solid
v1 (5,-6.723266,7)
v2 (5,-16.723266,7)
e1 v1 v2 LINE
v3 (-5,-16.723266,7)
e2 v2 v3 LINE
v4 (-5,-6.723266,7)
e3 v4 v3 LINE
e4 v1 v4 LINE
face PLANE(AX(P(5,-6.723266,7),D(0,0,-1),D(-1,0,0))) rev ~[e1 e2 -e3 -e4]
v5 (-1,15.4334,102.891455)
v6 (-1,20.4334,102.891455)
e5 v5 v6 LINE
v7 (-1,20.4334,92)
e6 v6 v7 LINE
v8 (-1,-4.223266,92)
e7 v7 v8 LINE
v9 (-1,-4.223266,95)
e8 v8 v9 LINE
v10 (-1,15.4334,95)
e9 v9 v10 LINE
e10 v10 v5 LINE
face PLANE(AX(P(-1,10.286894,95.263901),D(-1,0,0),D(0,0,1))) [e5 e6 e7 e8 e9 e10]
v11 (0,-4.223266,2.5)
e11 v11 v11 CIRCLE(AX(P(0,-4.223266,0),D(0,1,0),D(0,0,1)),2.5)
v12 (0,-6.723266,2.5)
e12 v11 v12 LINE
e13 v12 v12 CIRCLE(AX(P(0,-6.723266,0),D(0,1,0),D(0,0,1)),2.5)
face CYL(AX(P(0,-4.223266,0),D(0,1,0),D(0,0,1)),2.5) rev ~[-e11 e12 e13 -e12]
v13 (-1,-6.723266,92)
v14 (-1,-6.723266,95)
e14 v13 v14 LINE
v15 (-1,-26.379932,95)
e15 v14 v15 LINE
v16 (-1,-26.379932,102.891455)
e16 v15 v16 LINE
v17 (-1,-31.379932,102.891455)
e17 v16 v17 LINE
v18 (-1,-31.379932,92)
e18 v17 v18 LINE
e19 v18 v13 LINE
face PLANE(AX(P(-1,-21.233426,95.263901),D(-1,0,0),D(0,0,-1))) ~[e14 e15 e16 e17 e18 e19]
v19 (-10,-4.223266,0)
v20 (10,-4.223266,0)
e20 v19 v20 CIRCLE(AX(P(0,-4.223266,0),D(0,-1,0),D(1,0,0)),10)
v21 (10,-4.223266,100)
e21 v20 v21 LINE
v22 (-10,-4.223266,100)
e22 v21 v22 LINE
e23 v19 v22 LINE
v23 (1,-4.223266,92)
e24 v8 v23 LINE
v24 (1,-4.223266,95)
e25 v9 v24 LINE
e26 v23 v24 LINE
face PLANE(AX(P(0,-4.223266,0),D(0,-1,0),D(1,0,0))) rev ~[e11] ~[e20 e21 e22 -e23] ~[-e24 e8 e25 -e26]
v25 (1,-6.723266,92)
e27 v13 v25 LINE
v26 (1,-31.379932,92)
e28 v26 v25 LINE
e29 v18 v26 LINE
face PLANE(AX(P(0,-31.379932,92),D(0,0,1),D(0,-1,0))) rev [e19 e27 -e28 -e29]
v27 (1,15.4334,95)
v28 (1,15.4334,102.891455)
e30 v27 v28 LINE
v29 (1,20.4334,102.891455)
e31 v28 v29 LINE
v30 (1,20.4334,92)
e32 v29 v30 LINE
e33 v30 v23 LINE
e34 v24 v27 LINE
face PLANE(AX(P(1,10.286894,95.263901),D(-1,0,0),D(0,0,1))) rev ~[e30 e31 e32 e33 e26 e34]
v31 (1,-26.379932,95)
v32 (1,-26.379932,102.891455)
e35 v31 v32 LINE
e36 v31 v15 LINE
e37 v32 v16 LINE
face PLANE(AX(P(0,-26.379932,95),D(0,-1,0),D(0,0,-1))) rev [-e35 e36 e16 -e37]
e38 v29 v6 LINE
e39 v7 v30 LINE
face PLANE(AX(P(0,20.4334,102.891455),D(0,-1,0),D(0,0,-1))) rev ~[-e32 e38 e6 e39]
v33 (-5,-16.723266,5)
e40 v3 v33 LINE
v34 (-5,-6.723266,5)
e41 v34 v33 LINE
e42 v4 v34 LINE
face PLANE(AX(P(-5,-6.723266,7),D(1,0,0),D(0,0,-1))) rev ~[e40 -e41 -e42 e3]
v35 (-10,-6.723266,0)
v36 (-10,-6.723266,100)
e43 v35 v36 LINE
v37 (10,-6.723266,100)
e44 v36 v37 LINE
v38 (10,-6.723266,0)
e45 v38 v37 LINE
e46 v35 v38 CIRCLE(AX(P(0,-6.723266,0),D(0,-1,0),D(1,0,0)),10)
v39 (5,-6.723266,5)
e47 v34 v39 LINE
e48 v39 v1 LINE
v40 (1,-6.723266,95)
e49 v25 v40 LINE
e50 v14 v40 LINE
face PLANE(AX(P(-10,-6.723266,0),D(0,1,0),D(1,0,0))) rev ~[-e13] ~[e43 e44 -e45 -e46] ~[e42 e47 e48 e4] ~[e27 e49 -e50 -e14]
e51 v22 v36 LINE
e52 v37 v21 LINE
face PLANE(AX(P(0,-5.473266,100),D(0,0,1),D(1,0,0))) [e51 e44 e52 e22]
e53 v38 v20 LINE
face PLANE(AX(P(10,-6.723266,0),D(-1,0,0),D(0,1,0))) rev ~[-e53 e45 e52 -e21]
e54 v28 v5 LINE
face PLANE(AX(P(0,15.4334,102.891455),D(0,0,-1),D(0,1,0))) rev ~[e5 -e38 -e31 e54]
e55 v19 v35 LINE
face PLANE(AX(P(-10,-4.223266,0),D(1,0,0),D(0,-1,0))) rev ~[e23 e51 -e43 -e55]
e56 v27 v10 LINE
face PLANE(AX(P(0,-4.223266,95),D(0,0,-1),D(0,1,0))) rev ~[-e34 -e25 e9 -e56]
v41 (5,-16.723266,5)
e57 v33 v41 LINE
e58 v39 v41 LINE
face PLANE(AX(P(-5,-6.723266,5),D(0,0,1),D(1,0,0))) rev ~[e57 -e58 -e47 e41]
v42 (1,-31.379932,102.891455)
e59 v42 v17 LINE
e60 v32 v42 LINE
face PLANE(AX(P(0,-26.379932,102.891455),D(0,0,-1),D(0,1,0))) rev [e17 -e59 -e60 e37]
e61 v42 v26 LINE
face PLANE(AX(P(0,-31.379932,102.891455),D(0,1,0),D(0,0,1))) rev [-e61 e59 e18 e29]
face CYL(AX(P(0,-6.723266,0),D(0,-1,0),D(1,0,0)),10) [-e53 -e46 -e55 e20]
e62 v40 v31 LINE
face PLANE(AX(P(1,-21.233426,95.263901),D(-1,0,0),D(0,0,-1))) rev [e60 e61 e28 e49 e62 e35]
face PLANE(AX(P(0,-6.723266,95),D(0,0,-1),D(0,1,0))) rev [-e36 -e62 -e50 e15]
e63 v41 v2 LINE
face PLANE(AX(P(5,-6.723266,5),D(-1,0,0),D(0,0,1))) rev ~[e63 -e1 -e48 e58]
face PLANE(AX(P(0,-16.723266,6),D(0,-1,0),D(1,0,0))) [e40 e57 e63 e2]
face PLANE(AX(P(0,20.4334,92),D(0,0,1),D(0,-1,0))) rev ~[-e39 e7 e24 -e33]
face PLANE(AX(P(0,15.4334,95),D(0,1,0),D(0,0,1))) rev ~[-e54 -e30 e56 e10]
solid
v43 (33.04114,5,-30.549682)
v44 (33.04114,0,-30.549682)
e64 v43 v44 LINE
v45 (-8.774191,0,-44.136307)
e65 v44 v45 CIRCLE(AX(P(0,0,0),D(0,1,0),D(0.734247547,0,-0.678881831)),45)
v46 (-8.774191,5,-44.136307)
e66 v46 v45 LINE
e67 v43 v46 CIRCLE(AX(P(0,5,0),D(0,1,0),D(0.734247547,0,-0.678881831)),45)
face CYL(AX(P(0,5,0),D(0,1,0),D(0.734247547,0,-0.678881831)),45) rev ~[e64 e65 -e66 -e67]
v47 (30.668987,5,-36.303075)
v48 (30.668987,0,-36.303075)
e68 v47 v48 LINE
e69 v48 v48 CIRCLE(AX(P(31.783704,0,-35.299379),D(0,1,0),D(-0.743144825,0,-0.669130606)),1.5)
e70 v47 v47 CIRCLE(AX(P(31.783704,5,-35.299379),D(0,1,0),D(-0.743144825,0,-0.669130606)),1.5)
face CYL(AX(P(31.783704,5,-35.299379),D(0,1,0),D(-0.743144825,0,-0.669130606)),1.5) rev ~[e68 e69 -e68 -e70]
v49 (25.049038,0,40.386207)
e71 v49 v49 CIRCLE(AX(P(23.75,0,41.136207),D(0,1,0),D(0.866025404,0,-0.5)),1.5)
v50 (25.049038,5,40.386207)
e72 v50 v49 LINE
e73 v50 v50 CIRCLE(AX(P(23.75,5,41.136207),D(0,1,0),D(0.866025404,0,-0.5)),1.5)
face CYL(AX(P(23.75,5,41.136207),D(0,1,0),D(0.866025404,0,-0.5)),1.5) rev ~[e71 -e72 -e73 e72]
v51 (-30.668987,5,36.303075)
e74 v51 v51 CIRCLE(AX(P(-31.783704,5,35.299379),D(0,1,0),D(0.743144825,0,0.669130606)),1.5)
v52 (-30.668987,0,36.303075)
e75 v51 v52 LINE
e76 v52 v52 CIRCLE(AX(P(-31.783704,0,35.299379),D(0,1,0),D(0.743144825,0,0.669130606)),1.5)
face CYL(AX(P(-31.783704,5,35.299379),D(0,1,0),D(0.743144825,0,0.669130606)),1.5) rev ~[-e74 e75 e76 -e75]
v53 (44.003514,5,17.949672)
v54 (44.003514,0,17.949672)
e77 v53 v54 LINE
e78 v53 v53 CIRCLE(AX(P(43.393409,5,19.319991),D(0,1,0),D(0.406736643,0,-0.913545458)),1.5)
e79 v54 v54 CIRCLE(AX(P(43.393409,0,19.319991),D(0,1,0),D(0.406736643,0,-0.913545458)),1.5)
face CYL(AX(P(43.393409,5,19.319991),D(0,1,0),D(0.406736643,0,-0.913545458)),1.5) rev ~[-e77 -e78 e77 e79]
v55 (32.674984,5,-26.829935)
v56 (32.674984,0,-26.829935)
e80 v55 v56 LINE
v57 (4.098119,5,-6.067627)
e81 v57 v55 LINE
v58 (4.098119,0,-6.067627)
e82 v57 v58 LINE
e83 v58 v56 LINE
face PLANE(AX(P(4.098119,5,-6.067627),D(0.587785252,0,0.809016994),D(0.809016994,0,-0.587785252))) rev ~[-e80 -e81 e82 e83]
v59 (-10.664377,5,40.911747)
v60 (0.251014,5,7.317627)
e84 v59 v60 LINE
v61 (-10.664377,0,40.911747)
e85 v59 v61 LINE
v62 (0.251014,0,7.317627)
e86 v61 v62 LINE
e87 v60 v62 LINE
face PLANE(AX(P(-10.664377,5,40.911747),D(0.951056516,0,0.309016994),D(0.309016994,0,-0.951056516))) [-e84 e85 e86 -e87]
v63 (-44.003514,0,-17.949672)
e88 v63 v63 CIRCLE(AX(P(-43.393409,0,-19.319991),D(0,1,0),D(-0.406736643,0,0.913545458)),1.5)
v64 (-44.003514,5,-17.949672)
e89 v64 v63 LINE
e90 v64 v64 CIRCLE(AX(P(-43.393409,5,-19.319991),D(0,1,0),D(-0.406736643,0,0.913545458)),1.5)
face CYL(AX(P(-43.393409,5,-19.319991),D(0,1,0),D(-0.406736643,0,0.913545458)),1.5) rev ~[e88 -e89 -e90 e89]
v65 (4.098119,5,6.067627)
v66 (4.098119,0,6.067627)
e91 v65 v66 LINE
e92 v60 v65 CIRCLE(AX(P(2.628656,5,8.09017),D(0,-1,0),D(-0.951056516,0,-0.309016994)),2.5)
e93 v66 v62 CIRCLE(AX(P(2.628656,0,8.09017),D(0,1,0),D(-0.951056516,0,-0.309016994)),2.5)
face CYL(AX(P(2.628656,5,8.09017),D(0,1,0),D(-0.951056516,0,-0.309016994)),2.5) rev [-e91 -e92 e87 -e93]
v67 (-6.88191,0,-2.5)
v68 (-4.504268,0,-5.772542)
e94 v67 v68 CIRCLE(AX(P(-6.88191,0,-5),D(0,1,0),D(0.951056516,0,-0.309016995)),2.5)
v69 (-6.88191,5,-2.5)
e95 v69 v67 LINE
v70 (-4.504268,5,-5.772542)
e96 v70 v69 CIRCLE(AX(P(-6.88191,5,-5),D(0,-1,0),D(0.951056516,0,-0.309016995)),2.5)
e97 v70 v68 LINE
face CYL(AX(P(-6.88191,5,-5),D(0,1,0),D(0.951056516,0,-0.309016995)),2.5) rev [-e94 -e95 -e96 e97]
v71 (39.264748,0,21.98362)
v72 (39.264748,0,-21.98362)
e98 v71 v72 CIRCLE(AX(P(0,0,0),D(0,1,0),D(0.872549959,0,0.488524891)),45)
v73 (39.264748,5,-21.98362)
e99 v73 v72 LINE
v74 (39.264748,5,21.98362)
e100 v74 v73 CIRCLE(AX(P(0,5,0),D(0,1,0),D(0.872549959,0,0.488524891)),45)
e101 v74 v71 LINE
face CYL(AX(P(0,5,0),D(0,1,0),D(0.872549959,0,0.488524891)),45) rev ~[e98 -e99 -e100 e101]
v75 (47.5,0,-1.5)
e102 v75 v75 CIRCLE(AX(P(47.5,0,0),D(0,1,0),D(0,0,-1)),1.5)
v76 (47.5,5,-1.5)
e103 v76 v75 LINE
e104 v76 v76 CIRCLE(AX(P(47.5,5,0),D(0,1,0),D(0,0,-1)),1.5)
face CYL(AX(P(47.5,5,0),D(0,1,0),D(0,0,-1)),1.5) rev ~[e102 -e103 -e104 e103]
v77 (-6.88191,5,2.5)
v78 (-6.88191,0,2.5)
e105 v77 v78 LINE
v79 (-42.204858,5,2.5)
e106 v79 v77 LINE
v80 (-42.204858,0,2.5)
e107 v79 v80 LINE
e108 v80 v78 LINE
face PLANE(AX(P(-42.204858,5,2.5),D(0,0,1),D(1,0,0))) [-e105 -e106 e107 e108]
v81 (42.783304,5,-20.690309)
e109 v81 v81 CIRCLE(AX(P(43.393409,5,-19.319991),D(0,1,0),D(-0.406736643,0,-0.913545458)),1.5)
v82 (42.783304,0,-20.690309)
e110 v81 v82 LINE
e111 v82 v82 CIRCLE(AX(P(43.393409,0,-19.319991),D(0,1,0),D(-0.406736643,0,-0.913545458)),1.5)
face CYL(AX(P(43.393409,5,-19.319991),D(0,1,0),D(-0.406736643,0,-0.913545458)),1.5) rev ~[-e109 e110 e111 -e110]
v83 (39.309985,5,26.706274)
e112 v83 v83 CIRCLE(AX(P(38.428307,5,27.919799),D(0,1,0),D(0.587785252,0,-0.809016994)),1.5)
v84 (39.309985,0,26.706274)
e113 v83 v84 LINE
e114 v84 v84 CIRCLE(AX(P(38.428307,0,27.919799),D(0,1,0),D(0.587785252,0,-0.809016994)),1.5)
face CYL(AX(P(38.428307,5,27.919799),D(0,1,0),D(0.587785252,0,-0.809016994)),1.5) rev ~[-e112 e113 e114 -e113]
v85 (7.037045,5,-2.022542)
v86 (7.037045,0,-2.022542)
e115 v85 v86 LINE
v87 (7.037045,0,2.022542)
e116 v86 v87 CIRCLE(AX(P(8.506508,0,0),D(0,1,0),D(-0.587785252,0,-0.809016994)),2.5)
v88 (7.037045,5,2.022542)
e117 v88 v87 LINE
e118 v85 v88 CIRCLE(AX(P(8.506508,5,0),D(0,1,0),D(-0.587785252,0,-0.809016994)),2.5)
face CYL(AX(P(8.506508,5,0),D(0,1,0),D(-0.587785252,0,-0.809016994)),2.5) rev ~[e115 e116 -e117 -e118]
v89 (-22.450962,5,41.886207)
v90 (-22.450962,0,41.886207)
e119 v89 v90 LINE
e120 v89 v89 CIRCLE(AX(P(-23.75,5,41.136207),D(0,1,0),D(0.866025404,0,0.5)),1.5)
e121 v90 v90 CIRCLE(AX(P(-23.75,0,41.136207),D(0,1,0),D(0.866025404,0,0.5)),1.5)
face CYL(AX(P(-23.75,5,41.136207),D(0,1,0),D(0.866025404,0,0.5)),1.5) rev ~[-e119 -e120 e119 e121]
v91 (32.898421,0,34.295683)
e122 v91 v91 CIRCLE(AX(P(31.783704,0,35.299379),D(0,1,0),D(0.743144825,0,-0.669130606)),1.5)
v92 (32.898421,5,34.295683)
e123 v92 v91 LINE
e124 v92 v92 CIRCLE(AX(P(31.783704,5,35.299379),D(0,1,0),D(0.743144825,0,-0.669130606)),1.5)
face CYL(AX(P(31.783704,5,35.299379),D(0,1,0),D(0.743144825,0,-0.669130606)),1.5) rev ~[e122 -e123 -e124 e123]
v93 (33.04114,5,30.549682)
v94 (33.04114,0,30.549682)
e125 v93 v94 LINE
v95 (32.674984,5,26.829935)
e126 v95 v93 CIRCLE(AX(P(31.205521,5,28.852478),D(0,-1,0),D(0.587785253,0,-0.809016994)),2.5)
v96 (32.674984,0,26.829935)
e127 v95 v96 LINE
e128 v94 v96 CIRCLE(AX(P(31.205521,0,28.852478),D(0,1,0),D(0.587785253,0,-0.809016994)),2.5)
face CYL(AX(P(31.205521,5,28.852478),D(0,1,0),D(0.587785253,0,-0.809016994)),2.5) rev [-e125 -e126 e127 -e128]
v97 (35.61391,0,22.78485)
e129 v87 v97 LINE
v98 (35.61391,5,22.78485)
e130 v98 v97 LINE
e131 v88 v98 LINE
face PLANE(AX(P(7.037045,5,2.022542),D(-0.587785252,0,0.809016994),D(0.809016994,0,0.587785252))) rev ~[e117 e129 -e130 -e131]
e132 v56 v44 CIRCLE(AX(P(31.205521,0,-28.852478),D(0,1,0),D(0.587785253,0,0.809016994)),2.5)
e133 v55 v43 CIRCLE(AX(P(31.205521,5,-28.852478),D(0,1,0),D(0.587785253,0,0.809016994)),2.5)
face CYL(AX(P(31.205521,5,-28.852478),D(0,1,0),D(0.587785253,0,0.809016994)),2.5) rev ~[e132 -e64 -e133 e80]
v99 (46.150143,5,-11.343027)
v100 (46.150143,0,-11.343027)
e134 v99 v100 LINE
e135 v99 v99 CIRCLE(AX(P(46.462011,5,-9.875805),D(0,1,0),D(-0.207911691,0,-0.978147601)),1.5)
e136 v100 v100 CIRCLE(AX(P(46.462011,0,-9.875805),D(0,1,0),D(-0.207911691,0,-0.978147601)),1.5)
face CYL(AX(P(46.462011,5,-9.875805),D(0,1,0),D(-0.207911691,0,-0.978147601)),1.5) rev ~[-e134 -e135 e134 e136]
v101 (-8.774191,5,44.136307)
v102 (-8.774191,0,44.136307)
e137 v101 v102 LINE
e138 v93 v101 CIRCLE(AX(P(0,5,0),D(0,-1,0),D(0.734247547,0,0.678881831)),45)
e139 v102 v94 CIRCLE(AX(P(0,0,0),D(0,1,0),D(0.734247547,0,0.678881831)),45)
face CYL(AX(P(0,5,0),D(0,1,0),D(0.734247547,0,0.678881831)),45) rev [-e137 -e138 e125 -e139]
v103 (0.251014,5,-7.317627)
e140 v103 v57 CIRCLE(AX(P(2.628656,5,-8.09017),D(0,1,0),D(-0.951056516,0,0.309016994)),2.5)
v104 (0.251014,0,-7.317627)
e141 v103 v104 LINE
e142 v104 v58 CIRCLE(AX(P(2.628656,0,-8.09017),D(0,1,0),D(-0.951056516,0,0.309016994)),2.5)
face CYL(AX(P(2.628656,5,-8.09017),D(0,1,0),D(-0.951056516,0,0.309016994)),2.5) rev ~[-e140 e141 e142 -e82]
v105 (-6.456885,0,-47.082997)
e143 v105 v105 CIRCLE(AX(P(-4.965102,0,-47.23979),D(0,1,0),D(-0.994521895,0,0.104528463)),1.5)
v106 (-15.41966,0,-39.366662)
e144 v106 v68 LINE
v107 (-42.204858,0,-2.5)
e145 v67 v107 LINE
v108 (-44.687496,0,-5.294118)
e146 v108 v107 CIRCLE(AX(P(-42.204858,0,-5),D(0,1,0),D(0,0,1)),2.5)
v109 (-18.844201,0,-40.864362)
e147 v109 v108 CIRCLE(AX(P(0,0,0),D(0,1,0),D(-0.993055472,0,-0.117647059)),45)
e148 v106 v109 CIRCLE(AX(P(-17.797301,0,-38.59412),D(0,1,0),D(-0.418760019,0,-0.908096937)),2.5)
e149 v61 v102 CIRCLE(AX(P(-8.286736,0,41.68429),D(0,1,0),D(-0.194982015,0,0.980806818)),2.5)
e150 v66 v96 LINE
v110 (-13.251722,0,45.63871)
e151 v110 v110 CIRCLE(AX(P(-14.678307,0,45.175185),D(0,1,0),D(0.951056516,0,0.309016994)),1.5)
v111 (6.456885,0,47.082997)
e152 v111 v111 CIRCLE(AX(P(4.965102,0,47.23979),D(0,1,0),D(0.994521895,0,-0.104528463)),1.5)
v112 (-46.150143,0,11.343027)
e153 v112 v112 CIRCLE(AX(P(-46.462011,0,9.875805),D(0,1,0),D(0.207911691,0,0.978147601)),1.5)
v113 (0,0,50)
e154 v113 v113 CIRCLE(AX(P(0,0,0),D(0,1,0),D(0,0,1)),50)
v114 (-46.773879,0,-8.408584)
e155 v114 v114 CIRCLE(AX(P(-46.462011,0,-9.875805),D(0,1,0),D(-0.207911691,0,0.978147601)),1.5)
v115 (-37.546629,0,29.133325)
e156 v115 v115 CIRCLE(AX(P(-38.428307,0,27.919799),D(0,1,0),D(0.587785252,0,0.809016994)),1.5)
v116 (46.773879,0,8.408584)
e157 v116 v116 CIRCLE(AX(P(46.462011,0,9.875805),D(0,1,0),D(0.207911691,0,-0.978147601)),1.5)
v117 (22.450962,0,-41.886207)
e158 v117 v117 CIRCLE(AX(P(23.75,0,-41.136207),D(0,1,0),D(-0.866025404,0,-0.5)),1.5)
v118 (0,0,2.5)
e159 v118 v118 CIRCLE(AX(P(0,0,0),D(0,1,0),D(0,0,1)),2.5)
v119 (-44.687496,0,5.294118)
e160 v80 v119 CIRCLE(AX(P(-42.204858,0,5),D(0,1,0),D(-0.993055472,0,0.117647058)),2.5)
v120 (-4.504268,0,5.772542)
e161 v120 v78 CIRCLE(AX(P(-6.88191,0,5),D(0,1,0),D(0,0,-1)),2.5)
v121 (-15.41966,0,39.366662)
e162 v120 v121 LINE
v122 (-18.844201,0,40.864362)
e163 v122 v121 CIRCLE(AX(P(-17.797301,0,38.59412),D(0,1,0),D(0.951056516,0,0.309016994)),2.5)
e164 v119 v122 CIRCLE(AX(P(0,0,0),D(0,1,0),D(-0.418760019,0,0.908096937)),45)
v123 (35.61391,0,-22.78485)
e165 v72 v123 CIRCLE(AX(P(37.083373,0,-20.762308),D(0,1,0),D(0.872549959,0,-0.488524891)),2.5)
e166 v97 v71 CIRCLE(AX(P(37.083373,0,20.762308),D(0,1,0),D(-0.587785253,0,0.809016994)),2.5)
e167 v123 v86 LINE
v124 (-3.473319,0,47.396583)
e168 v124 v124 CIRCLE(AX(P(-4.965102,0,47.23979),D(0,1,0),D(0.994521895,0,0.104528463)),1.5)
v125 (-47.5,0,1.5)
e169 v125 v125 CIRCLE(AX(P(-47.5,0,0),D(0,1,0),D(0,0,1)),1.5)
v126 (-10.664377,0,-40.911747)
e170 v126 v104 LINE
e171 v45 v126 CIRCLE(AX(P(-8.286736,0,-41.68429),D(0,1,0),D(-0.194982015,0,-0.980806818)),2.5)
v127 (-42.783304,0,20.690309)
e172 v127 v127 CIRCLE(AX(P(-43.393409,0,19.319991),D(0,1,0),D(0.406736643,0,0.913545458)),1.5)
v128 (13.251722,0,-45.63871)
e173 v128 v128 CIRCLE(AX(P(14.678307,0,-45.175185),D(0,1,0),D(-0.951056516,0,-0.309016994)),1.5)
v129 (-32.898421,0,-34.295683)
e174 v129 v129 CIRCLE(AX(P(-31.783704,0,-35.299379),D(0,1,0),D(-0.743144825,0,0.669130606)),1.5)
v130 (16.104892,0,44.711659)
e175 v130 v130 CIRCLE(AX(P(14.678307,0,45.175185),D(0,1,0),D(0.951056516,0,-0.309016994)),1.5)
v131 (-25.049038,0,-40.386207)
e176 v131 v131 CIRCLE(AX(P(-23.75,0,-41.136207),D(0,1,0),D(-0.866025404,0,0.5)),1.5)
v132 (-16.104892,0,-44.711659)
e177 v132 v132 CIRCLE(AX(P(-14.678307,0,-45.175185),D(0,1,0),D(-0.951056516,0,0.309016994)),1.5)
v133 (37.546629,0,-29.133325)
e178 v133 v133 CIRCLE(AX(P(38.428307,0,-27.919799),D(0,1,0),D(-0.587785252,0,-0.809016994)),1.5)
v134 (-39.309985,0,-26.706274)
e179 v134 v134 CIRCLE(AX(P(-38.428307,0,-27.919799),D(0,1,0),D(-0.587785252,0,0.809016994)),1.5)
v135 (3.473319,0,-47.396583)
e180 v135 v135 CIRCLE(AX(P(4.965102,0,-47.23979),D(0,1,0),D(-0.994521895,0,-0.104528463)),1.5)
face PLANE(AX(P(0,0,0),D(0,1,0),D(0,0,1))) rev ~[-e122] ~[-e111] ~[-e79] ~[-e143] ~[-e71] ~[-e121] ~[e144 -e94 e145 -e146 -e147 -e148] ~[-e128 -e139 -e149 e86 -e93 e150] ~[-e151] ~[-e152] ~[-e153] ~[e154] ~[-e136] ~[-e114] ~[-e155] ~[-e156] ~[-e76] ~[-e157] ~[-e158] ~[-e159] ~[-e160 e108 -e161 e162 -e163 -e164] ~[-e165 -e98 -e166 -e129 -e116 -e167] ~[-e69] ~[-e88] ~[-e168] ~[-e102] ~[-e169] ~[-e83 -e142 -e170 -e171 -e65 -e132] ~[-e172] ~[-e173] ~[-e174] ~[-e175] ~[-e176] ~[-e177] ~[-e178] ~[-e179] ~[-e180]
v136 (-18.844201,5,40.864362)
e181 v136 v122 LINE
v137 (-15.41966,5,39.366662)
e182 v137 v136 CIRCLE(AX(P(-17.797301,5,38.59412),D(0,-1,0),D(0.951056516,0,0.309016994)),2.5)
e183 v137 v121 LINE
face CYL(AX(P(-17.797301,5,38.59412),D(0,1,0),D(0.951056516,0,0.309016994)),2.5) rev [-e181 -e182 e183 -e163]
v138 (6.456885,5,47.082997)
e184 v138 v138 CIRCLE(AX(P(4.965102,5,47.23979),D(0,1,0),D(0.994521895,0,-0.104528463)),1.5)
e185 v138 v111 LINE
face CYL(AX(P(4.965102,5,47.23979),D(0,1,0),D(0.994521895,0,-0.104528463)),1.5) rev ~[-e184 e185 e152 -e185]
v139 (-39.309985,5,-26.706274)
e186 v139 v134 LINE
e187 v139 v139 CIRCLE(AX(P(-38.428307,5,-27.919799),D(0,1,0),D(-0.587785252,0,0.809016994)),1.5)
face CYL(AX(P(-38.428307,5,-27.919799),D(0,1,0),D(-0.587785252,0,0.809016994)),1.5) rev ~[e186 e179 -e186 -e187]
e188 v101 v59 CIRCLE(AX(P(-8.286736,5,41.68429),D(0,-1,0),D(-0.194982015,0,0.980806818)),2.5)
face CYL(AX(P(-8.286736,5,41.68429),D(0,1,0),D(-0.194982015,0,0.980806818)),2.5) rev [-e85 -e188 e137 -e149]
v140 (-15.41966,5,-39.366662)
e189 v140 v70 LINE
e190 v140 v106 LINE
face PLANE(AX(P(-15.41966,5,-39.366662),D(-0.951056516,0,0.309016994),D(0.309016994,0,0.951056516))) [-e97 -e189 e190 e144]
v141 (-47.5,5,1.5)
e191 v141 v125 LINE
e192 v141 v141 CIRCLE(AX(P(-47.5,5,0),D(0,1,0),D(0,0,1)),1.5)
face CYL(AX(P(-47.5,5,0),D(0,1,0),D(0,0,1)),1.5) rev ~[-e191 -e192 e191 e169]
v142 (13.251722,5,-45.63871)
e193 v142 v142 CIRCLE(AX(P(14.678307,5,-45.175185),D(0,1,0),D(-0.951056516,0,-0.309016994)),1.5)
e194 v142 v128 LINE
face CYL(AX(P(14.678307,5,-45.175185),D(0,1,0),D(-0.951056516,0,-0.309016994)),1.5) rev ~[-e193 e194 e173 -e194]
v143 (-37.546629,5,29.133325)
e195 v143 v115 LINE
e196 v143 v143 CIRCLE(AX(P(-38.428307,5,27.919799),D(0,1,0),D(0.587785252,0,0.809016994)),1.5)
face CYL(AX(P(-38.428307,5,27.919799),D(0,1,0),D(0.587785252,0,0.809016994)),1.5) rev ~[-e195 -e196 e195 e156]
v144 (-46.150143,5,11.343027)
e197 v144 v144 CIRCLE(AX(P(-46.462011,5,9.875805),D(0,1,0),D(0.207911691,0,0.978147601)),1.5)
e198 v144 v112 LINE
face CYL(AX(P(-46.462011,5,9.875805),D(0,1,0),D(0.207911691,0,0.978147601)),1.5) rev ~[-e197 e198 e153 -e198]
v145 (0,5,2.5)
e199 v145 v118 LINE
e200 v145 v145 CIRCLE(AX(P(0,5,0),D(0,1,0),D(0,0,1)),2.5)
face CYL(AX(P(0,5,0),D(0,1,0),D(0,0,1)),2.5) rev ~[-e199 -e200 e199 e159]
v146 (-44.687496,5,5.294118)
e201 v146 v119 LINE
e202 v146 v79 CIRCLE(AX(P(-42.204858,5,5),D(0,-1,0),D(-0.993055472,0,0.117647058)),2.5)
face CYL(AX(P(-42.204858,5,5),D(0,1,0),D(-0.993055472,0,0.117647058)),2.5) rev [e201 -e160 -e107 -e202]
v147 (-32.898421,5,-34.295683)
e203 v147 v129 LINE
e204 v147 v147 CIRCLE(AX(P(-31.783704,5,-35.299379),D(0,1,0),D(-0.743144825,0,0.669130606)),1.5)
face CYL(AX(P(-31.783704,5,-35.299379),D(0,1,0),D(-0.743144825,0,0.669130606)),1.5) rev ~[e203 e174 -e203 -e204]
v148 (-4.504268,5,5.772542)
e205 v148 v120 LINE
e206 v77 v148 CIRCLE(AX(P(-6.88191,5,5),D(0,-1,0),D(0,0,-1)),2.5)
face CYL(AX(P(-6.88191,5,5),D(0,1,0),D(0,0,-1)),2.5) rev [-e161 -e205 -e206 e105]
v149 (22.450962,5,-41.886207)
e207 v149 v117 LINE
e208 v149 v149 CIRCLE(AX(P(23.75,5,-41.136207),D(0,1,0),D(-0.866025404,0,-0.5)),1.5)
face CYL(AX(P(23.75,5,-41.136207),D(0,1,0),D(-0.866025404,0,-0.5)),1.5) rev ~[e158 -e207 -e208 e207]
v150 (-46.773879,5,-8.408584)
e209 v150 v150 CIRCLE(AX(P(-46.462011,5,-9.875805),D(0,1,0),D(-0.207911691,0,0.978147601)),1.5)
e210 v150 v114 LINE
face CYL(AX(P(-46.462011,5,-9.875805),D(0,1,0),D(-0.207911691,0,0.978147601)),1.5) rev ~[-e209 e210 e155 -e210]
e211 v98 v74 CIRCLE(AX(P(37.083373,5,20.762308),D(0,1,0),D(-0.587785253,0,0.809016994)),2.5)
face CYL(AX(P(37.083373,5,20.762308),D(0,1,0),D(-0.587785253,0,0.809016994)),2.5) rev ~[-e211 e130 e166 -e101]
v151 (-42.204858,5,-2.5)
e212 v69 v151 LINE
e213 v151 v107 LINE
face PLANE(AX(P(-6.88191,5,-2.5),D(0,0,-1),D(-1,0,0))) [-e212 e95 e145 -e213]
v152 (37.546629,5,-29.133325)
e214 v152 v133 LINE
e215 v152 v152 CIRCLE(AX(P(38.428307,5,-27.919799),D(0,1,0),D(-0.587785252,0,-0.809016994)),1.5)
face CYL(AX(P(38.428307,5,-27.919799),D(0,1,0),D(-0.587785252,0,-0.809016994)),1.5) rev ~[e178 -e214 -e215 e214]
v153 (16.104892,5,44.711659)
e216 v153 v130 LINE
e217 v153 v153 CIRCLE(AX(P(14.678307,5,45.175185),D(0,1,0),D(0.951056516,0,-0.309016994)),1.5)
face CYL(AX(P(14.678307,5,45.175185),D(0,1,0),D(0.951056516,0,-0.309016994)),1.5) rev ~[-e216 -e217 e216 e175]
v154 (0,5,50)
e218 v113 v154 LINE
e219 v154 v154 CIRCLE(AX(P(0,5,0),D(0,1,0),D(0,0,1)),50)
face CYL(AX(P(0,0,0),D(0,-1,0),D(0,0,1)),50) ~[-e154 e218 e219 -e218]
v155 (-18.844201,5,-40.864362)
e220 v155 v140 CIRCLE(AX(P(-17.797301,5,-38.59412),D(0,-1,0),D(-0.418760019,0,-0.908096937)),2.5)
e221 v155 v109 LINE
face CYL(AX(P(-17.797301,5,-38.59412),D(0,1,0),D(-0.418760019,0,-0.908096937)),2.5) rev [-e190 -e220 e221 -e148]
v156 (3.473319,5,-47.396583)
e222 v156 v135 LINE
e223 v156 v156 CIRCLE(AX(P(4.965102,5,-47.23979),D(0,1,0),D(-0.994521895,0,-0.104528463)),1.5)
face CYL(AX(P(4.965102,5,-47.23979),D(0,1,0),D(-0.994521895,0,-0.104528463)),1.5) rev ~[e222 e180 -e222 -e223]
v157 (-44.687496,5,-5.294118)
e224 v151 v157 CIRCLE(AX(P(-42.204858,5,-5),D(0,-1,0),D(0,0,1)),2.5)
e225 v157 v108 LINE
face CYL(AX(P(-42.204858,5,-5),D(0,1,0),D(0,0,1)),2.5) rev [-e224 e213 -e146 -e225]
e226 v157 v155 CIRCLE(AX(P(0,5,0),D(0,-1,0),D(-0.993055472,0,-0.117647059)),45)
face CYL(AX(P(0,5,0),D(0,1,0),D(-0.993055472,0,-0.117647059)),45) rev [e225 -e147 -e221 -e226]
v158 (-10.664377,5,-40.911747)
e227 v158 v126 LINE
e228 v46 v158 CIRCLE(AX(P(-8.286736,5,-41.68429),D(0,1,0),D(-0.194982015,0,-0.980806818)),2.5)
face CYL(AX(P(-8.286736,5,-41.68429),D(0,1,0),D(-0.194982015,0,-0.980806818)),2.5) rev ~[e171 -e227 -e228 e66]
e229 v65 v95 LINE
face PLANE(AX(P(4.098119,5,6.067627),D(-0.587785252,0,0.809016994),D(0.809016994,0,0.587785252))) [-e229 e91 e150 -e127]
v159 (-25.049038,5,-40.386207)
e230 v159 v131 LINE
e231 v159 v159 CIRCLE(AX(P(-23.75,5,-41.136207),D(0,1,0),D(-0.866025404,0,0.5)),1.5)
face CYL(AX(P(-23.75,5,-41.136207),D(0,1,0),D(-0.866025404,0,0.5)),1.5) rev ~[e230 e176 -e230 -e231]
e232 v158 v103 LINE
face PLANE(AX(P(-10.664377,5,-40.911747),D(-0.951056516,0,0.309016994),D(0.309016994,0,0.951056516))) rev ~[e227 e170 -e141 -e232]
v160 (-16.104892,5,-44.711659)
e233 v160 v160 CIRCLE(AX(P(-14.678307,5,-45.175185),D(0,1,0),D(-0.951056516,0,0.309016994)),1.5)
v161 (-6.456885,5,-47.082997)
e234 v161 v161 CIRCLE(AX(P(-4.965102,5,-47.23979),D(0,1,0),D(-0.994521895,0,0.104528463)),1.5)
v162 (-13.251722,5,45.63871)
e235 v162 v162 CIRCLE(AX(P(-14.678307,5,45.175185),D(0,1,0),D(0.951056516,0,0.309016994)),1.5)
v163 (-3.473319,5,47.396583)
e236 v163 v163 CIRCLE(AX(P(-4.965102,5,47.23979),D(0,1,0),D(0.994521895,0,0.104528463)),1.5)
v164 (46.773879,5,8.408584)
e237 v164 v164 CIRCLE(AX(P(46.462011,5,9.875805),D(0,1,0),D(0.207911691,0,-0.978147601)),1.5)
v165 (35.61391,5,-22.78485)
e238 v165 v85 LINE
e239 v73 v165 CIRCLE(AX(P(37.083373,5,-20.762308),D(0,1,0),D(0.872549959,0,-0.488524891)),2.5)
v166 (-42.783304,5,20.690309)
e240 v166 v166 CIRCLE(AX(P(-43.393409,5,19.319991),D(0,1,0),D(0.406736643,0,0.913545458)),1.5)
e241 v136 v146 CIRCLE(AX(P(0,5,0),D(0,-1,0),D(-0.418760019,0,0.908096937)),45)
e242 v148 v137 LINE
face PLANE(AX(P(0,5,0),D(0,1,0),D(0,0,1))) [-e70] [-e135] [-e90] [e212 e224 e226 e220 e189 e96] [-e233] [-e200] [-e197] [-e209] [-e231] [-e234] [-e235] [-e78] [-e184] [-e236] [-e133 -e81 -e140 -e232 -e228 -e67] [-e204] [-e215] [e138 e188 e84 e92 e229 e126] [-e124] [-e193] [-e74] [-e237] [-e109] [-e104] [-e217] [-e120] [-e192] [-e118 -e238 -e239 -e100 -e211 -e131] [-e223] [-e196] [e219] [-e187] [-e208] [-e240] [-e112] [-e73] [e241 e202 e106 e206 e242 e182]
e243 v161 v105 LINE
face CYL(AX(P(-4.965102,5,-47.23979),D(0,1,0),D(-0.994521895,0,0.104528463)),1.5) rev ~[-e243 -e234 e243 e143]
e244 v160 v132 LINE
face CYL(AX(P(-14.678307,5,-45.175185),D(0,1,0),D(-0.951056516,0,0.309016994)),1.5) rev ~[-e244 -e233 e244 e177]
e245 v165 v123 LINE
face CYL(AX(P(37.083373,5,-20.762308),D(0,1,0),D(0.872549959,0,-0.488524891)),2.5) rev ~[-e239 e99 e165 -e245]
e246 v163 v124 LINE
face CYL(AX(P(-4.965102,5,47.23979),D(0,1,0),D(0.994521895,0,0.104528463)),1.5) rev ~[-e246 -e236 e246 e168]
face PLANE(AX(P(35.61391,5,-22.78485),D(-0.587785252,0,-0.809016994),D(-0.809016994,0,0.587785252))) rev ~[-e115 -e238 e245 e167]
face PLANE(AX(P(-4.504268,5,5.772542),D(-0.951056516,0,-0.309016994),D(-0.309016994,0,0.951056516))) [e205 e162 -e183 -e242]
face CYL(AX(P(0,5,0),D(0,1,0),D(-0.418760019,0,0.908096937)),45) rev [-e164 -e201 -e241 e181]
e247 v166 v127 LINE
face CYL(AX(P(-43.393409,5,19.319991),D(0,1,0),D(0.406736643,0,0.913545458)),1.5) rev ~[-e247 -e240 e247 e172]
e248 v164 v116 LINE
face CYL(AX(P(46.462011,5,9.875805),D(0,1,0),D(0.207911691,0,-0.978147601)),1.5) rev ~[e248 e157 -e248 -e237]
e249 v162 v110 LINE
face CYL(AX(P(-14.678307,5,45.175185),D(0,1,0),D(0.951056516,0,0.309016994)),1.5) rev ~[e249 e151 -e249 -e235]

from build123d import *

# Parameters (mm, degrees)
SKETCH1_R           = 50
BOSS_EXTRUDE1_DEPTH = 5
SKETCH4_R           = 2.5
CUT_EXTRUDE1_DEPTH  = 71.887234394
SKETCH7_R           = 1.5
CUT_EXTRUDE2_DEPTH  = 10
CIRPATTERN1_COUNT   = 30
BOSS_EXTRUDE3_DEPTH = 100
SKETCH11_R          = 10
BOSS_EXTRUDE5_DEPTH = 2.5
SKETCH13_R          = 2.5
CUT_EXTRUDE3_DEPTH  = 2.5
BOSS_EXTRUDE6_DEPTH = 10
BOSS_EXTRUDE9_DEPTH = 1


with BuildPart() as part:
    # Sketch1 → Boss-Extrude1 (new body)
    with BuildSketch(Plane(origin=(0, 0, 0), x_dir=(1, 0, 0), z_dir=(0, 1, 0))):
        with Locations(Location((0, 0, 0), (0, 0, 270))):
            Circle(SKETCH1_R)
    extrude(amount=BOSS_EXTRUDE1_DEPTH)

    # Sketch4 → Cut-Extrude1 (cut, through all)
    with BuildSketch(Plane(origin=(0, 5, 0), x_dir=(1, 0, 0), z_dir=(0, 1, 0))):
        with Locations(Location((0, 0, 0), (0, 0, 270))):
            Circle(SKETCH4_R)
        with BuildLine():
            Line((4.098118691, 6.067627458), (32.674983865, 26.829935323))
            ThreePointArc((32.674983865, 26.829935323), (33.693496076, 28.607572328), (33.041139601, 30.549682386))
            ThreePointArc((33.041139601, 30.549682386), (13.905764747, 42.797543233), (-8.774190682, 44.136306799))
            ThreePointArc((-8.774190682, 44.136306799), (-10.443501807, 42.948552273), (-10.664376934, 40.911747269))
            Line((-10.664376934, 40.911747269), (0.25101427, 7.317627458))
            ThreePointArc((0.25101427, 7.317627458), (1.856113075, 5.712528653), (4.098118691, 6.067627458))
        make_face()
        with BuildLine():
            Line((4.098118691, -6.067627458), (32.674983865, -26.829935323))
            ThreePointArc((32.674983865, -26.829935323), (33.693496076, -28.607572328), (33.041139601, -30.549682386))
            ThreePointArc((33.041139601, -30.549682386), (13.905764747, -42.797543233), (-8.774190682, -44.136306799))
            ThreePointArc((-8.774190682, -44.136306799), (-10.443501807, -42.948552273), (-10.664376934, -40.911747269))
            Line((-10.664376934, -40.911747269), (0.25101427, -7.317627458))
            ThreePointArc((0.25101427, -7.317627458), (1.856113075, -5.712528653), (4.098118691, -6.067627458))
        make_face()
        with BuildLine():
            Line((-4.504268312, -5.772542486), (-15.419659516, -39.366662297))
            ThreePointArc((-15.419659516, -39.366662297), (-16.795555191, -40.884645018), (-18.844200854, -40.864362153))
            ThreePointArc((-18.844200854, -40.864362153), (-36.405764747, -26.450336353), (-44.687496219, -5.294117647))
            ThreePointArc((-44.687496219, -5.294117647), (-44.073720044, -3.33947209), (-42.20485754, -2.5))
            Line((-42.20485754, -2.5), (-6.881909602, -2.5))
            ThreePointArc((-6.881909602, -2.5), (-4.859367116, -3.530536869), (-4.504268312, -5.772542486))
        make_face()
        with BuildLine():
            Line((-6.881909602, 2.5), (-42.20485754, 2.5))
            ThreePointArc((-42.20485754, 2.5), (-44.073720044, 3.33947209), (-44.687496219, 5.294117647))
            ThreePointArc((-44.687496219, 5.294117647), (-36.405764747, 26.450336353), (-18.844200854, 40.864362153))
            ThreePointArc((-18.844200854, 40.864362153), (-16.795555191, 40.884645018), (-15.419659516, 39.366662297))
            Line((-15.419659516, 39.366662297), (-4.504268312, 5.772542486))
            ThreePointArc((-4.504268312, 5.772542486), (-4.859367116, 3.530536869), (-6.881909602, 2.5))
        make_face()
        with BuildLine():
            Line((7.037044953, -2.022542486), (35.613910126, -22.784850351))
            ThreePointArc((35.613910126, -22.784850351), (37.619280966, -23.204192983), (39.264748154, -21.983620093))
            ThreePointArc((39.264748154, -21.983620093), (45, 0), (39.264748154, 21.983620093))
            ThreePointArc((39.264748154, 21.983620093), (37.619280966, 23.204192983), (35.613910126, 22.784850351))
            Line((35.613910126, 22.784850351), (7.037044953, 2.022542486))
            ThreePointArc((7.037044953, 2.022542486), (6.006508084, 0), (7.037044953, -2.022542486))
        make_face()
    extrude(amount=-CUT_EXTRUDE1_DEPTH, mode=Mode.SUBTRACT)

    # Sketch7 → Cut-Extrude2 (cut)
    with BuildSketch(Plane(origin=(0, 5, 0), x_dir=(1, 0, 0), z_dir=(0, 1, 0))):
        with Locations(Location((-47.5, 0, 0), (0, 0, 270))):
            Circle(SKETCH7_R)
    cut_extrude2 = extrude(amount=-CUT_EXTRUDE2_DEPTH, mode=Mode.SUBTRACT)

    # CirPattern1: Cut-Extrude2 ×30 about axis
    cirpattern1_axis = Axis((0, 0, 0), (0, 1, 0))
    for i in range(1, CIRPATTERN1_COUNT):
        add(cut_extrude2.rotate(cirpattern1_axis, i * 360 / CIRPATTERN1_COUNT), mode=Mode.SUBTRACT)


with BuildPart() as body_2:
    # Sketch8 → Boss-Extrude3 (new body)
    with BuildSketch(Plane.XY):
        Polygon((0, -4.223266168), (-10, -4.223266168), (-10, -6.723266168), (10, -6.723266168), (10, -4.223266168), align=None)
    extrude(amount=BOSS_EXTRUDE3_DEPTH)

    # Sketch11 → Boss-Extrude5 (add)
    with BuildSketch(Plane.XZ.offset(6.723266168)):
        Circle(SKETCH11_R)
    extrude(amount=-BOSS_EXTRUDE5_DEPTH)

    # Sketch13 → Cut-Extrude3 (cut)
    with BuildSketch(Plane(origin=(0, -4.223266168, 0), x_dir=(1, 0, 0), z_dir=(0, 1, 0))):
        with Locations(Location((0, 0, 0), (0, 0, 270))):
            Circle(SKETCH13_R)
    extrude(amount=-CUT_EXTRUDE3_DEPTH, mode=Mode.SUBTRACT)

    # Sketch14 → Boss-Extrude6 (add)
    with BuildSketch(Plane.XZ.offset(6.723266168)):
        Polygon((0, 5), (5, 5), (5, 7), (-5, 7), (-5, 5), align=None)
    extrude(amount=BOSS_EXTRUDE6_DEPTH)

    # Feet → Boss-Extrude9 (add, symmetric)
    with BuildSketch(Plane(origin=(0, 0, 0), x_dir=(0, 0, -1), z_dir=(1, 0, 0))):
        Polygon((-95, -4.223266168), (-95, 15.433399824), (-102.891455397, 15.433399824), (-102.891455397, 20.433399824), (-92, 20.433399824), (-92, -4.223266168), align=None)
    boss_extrude9 = extrude(amount=BOSS_EXTRUDE9_DEPTH, both=True)

    # Mirror1: Boss-Extrude9 across plane
    add(boss_extrude9.mirror(Plane.ZX.offset(-5.473266168)))


solid = Compound([part.part, body_2.part])
